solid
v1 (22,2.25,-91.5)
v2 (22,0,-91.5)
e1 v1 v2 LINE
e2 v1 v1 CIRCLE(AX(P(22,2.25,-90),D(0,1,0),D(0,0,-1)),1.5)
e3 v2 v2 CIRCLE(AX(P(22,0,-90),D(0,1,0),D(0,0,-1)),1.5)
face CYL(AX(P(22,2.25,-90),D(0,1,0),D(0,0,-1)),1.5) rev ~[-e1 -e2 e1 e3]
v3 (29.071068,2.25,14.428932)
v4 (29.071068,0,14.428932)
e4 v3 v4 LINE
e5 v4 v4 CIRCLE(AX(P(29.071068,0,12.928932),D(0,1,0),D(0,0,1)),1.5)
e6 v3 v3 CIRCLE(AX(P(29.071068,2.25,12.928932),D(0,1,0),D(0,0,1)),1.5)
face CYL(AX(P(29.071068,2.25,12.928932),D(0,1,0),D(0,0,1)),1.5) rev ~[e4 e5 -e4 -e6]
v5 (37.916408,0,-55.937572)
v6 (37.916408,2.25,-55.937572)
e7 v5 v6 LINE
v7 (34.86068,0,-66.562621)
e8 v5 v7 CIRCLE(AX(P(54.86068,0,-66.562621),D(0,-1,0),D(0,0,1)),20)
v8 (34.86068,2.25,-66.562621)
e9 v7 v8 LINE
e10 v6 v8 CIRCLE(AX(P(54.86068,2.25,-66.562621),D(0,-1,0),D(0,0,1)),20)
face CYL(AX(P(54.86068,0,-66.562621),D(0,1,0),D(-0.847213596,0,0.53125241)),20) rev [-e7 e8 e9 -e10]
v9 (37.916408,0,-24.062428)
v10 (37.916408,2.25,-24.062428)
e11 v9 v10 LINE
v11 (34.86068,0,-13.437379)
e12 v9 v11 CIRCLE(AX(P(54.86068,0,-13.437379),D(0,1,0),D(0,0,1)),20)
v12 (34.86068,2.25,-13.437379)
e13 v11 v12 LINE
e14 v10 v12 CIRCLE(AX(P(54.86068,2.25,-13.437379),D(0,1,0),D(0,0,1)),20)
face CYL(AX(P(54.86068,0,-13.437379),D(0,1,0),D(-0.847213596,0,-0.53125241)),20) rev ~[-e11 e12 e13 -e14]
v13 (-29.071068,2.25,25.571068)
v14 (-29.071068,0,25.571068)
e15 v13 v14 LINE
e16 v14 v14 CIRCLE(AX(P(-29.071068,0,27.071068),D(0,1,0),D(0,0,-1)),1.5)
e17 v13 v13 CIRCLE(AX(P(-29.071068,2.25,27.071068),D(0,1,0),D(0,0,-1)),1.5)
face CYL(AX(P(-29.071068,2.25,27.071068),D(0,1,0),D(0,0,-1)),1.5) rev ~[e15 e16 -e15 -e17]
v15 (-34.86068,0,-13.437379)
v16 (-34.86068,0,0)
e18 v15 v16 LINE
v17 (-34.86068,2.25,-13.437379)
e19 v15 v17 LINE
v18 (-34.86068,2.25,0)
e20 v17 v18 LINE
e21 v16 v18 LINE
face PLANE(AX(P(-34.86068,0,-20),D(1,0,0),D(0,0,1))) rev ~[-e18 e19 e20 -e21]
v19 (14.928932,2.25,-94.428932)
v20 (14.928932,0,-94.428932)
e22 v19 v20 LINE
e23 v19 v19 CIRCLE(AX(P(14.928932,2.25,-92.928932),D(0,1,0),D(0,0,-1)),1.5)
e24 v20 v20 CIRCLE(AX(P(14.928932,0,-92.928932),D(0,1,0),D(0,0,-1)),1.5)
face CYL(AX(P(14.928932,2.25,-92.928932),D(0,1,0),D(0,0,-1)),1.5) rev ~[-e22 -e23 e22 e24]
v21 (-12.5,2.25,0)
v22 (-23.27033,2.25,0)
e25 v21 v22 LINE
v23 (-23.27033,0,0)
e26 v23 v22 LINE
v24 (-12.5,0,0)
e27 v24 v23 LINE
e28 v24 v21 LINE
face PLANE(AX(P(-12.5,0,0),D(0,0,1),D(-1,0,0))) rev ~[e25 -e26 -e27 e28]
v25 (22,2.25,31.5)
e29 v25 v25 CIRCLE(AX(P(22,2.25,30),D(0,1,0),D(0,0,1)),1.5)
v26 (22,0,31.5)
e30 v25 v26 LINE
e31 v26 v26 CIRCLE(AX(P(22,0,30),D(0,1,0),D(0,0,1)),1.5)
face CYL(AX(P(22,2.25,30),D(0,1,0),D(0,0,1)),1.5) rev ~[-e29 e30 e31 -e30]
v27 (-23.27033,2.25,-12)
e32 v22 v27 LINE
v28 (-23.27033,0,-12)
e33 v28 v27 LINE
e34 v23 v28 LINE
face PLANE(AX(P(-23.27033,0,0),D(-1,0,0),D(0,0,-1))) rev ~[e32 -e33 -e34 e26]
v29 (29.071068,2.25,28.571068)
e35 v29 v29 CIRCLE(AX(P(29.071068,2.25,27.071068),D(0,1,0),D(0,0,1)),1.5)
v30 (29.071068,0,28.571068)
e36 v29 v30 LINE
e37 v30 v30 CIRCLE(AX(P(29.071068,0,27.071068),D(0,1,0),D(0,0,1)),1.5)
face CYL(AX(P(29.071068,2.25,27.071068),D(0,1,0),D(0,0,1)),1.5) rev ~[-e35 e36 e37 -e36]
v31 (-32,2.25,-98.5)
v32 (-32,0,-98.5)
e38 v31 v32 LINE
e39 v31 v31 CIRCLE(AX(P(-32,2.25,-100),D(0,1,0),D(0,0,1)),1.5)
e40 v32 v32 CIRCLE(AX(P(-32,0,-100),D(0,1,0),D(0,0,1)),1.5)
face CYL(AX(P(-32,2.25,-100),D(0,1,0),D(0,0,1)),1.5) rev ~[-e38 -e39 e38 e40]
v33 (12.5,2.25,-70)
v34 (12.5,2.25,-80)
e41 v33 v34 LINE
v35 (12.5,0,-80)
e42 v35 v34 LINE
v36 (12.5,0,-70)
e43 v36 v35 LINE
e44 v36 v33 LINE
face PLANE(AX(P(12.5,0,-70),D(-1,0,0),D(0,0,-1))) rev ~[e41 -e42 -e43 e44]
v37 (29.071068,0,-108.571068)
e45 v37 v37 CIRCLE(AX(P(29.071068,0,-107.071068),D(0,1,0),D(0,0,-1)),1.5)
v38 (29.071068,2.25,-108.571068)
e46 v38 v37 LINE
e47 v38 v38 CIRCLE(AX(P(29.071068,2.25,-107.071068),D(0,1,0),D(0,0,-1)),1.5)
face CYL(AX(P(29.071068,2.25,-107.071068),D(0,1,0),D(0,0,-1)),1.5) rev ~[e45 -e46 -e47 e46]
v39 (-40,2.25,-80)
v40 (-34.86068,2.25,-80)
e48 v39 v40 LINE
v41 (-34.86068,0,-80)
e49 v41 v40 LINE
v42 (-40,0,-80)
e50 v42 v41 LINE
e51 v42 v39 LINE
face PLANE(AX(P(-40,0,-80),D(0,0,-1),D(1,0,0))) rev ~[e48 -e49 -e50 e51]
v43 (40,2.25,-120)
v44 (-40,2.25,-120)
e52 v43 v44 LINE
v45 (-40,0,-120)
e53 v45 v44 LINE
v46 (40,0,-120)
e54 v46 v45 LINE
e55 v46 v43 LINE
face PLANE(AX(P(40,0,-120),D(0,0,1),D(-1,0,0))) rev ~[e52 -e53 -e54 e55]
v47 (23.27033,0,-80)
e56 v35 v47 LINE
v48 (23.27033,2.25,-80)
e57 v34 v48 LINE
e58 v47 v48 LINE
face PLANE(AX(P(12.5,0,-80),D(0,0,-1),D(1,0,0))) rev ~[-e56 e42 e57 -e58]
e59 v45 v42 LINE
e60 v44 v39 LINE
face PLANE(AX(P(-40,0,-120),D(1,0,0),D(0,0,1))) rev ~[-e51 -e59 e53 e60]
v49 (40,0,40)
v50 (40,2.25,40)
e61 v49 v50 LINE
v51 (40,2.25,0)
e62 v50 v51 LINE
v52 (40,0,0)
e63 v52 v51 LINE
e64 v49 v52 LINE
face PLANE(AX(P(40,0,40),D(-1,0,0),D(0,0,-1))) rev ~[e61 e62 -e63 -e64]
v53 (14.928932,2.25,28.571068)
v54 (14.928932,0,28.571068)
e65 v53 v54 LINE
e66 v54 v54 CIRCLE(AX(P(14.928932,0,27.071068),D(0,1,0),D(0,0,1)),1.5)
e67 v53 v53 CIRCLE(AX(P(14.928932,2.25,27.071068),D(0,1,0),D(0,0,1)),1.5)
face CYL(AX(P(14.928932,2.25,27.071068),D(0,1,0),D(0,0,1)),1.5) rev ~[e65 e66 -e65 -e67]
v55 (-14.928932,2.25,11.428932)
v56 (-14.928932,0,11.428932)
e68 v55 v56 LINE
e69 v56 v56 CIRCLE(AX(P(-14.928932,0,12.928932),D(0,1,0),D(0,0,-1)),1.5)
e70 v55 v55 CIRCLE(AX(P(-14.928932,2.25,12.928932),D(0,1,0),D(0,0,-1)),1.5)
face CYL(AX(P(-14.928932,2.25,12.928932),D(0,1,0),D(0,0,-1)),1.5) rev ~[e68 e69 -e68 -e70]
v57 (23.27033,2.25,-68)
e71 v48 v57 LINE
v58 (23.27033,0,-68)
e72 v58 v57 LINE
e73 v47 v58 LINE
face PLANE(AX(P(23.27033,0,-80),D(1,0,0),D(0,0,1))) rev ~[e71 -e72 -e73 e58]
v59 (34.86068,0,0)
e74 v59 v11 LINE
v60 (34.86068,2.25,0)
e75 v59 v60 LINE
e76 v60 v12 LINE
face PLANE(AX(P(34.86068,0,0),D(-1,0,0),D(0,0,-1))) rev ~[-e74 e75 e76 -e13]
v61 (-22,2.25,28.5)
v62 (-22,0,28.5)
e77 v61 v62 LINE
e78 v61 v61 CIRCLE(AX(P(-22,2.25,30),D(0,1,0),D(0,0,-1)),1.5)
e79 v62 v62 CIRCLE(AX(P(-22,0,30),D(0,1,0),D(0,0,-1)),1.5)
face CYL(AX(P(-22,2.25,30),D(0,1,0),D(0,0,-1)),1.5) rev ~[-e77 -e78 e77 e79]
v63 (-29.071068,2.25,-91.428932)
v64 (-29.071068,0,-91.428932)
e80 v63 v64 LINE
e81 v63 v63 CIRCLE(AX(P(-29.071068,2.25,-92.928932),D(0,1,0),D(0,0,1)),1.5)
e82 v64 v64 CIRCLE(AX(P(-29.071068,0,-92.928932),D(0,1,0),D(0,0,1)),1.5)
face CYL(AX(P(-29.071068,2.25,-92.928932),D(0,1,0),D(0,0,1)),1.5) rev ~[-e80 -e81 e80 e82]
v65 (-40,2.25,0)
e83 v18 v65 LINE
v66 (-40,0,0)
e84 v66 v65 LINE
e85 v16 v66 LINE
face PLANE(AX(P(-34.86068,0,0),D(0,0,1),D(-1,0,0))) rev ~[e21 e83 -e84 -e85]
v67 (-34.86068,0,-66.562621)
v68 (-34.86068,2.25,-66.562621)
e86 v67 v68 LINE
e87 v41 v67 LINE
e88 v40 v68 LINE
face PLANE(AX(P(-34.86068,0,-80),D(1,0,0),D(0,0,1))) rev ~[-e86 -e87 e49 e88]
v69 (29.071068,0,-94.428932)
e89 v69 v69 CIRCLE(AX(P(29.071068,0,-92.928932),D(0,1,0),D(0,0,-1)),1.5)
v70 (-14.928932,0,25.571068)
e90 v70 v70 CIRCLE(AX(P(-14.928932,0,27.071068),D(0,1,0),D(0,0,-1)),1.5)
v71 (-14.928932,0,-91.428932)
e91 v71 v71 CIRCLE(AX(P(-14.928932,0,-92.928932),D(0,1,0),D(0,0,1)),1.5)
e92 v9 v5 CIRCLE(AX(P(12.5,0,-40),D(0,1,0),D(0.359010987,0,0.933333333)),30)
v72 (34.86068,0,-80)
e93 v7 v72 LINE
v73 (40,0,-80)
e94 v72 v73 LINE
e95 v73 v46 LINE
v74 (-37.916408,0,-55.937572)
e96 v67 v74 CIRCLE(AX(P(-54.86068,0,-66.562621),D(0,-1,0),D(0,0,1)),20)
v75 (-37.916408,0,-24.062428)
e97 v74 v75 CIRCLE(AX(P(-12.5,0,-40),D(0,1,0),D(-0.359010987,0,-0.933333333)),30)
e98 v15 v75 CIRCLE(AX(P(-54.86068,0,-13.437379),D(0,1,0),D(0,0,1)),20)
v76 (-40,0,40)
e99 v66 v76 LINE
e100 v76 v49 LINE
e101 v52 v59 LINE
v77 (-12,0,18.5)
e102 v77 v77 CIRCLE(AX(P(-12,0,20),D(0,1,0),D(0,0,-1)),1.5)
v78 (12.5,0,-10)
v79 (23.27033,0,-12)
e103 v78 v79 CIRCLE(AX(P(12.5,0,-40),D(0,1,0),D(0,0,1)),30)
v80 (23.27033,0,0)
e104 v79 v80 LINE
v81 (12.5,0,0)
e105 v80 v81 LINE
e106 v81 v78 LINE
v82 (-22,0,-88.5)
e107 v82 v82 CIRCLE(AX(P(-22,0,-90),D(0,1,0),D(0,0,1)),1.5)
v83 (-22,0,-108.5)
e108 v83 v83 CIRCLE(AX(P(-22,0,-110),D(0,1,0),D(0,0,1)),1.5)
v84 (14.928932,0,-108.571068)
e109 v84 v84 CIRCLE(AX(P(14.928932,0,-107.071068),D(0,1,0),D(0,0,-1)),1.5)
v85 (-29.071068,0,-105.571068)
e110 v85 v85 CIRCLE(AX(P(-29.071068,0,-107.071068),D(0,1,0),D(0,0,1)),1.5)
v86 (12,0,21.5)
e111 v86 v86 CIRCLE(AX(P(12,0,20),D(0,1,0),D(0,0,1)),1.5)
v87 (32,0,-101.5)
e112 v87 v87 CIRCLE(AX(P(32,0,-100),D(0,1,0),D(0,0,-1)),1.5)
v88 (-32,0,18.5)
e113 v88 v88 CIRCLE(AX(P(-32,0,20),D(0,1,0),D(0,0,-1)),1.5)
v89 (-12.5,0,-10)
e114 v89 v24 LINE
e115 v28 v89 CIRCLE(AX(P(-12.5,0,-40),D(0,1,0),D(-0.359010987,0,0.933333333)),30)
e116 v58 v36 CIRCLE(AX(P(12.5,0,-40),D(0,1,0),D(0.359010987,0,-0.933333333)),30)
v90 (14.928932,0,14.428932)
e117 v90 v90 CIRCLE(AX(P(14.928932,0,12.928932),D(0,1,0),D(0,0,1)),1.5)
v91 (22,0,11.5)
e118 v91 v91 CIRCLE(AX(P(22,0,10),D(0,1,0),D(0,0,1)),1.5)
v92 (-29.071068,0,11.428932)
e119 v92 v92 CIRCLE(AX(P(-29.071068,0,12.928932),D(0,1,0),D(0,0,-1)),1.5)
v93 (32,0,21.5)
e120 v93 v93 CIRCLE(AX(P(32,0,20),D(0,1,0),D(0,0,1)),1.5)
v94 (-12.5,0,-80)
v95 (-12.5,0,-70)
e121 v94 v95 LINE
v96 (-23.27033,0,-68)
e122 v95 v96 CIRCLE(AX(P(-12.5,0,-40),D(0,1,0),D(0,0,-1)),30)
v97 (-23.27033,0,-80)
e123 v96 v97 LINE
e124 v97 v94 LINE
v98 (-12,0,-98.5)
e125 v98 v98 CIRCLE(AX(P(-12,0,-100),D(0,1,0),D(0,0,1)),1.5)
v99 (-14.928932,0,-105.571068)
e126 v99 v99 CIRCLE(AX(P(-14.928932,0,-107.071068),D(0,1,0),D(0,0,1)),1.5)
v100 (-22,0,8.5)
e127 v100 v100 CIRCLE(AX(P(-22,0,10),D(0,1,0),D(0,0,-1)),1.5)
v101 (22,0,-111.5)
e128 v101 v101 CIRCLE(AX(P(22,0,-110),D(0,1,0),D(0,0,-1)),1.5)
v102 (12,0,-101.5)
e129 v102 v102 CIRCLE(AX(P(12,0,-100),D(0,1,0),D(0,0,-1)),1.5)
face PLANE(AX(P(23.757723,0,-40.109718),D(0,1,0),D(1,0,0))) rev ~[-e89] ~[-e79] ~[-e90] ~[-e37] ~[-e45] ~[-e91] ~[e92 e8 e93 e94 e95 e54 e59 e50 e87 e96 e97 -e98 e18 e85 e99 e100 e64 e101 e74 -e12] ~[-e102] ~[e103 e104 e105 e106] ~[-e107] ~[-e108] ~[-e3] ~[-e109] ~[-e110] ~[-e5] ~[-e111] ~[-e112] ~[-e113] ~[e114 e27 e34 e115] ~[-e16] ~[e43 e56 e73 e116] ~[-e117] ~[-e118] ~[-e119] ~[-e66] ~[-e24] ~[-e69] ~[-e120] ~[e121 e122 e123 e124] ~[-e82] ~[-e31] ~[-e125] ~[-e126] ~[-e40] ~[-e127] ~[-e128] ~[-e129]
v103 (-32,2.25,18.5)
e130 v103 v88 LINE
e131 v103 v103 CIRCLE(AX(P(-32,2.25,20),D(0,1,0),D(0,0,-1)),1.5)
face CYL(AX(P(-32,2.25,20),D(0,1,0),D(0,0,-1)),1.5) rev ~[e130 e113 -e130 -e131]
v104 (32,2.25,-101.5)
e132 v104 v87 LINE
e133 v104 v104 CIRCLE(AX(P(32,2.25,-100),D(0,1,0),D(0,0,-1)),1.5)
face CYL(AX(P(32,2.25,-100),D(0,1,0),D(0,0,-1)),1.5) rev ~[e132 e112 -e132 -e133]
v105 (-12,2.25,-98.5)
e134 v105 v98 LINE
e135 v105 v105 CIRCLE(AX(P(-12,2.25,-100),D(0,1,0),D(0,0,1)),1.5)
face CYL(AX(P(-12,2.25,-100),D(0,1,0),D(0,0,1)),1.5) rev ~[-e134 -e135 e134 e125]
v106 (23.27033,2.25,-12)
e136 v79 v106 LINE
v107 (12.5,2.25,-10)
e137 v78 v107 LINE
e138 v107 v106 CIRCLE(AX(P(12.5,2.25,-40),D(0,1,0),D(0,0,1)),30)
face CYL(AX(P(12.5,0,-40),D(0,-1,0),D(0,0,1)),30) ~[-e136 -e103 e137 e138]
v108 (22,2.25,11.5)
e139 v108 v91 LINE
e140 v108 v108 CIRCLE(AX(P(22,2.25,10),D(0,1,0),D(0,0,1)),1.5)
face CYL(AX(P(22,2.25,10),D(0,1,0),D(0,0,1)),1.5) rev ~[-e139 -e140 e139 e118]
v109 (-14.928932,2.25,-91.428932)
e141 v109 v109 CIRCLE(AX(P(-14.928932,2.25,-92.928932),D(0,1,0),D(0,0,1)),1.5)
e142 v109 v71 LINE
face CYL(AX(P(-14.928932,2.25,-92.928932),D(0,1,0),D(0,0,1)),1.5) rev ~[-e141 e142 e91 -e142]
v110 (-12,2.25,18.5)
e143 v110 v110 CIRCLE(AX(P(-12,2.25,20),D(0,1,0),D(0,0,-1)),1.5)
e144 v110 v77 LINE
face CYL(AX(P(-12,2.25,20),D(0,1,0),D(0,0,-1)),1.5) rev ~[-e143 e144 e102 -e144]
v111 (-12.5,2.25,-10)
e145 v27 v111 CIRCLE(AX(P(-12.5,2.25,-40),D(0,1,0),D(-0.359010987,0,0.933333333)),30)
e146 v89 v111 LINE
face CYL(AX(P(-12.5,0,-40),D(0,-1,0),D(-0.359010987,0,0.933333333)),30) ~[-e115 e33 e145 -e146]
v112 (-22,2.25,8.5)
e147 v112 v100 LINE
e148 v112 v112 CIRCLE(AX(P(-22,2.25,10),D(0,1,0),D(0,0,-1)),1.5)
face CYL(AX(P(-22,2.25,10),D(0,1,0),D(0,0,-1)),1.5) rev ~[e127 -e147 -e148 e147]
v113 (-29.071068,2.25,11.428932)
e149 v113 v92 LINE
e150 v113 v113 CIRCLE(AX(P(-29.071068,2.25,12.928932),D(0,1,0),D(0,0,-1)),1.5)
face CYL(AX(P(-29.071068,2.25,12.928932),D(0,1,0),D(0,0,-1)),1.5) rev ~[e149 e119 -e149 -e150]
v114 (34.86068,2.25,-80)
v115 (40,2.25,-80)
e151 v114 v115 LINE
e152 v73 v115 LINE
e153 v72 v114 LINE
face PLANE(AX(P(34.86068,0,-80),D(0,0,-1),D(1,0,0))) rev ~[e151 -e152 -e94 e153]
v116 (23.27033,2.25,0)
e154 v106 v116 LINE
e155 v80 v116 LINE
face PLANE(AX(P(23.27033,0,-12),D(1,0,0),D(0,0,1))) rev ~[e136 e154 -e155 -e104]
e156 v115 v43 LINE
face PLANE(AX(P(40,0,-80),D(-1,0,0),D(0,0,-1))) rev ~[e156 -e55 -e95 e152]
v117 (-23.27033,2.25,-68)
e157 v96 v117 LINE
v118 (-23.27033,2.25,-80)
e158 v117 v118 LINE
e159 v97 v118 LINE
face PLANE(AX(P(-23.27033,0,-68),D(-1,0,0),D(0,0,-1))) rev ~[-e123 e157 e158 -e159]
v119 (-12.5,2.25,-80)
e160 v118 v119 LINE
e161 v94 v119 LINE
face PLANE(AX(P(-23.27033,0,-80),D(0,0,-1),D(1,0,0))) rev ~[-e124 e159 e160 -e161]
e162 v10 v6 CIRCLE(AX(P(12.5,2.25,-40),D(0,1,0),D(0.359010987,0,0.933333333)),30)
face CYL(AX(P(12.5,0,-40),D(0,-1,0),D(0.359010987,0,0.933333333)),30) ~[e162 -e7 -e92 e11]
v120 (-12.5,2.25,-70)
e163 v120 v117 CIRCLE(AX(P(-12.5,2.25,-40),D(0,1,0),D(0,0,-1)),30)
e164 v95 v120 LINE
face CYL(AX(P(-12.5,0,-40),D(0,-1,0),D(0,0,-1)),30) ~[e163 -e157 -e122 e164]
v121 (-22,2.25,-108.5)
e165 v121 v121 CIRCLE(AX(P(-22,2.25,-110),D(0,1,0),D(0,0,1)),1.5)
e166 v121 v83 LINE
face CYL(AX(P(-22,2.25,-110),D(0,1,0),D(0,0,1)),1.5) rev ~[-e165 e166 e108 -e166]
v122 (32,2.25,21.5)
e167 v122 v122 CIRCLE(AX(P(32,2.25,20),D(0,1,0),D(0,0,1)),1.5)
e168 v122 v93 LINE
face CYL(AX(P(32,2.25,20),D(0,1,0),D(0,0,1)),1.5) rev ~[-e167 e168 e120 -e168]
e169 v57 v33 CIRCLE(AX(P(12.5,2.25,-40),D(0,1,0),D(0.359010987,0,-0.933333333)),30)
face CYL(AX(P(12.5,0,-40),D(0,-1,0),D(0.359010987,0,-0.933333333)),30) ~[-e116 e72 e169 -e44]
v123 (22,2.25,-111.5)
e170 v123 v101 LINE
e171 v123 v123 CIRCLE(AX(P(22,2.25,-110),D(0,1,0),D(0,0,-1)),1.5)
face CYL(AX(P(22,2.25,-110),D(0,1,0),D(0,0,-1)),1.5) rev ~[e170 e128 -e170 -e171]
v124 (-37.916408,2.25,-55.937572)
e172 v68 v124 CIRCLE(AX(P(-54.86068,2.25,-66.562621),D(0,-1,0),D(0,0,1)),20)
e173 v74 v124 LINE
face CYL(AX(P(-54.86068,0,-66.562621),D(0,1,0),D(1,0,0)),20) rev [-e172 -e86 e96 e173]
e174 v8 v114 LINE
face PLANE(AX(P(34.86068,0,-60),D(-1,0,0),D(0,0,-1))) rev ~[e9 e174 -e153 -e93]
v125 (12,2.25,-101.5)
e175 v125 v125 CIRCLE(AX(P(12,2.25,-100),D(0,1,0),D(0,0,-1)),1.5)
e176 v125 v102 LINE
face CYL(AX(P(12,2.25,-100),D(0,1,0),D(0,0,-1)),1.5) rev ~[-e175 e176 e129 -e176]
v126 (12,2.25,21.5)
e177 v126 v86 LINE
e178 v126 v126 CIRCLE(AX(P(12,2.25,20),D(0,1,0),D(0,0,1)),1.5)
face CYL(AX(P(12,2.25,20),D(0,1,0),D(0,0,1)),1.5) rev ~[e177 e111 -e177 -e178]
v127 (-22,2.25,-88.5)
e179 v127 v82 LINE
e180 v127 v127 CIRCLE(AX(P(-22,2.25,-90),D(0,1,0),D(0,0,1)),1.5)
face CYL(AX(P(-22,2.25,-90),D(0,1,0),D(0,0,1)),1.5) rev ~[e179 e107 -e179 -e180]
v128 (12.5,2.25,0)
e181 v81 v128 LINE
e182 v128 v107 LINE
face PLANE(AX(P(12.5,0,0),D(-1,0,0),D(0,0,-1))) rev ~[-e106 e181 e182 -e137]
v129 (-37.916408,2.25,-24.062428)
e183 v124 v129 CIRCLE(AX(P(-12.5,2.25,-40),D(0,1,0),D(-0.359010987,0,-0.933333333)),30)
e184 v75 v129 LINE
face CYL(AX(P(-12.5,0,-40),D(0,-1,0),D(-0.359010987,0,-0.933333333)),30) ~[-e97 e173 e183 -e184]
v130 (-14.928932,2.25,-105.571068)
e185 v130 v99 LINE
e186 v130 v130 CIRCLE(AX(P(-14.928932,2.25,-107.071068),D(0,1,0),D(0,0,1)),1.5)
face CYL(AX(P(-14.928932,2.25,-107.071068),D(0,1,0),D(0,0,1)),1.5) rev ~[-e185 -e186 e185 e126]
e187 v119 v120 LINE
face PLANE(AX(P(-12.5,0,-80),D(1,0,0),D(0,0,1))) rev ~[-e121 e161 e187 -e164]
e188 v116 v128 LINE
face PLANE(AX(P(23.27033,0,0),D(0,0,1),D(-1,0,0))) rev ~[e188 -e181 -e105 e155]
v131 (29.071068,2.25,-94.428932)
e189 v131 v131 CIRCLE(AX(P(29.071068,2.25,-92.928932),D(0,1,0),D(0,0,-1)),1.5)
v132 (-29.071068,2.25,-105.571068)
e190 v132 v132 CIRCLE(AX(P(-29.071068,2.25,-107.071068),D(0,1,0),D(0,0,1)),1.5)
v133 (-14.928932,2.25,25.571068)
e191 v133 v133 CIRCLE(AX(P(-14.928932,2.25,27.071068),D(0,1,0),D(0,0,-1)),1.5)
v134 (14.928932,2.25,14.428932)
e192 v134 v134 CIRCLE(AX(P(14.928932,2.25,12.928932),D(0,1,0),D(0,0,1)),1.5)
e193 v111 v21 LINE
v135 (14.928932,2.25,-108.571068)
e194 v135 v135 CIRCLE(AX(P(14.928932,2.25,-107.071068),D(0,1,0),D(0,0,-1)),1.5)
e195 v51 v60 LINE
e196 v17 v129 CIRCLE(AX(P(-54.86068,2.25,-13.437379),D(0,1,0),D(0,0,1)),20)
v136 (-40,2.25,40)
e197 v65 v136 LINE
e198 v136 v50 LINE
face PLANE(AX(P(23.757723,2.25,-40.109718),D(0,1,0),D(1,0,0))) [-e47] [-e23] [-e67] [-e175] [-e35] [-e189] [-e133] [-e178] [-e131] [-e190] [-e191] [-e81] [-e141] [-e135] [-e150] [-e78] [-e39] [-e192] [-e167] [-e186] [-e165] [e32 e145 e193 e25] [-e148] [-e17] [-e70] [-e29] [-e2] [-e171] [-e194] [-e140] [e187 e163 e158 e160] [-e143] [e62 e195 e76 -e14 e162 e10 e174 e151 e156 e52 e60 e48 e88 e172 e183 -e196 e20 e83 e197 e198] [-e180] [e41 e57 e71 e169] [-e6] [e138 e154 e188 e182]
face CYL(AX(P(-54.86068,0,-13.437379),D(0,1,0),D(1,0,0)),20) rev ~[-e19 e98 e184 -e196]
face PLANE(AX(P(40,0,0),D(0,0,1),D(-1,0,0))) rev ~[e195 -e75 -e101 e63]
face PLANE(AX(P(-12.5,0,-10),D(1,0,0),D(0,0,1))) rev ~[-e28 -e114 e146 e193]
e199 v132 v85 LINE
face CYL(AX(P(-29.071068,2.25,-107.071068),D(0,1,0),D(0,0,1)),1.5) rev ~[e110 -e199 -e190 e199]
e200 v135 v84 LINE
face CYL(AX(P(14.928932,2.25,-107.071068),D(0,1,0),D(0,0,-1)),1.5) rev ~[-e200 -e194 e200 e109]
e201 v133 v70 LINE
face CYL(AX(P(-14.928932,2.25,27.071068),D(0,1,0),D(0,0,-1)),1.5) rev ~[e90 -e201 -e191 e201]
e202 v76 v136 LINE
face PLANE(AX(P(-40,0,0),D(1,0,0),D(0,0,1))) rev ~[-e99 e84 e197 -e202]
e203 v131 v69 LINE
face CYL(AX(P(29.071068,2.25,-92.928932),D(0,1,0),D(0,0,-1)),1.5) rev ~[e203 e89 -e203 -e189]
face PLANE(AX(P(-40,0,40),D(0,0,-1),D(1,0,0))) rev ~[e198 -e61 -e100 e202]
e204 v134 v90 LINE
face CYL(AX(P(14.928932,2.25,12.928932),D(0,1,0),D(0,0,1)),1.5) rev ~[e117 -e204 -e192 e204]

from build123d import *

# Parameters (mm, degrees)
SALIENTE_EXTRUIR1_DEPTH = 2.25
CROQUIS2_R              = 1.5
CORTAR_EXTRUIR1_DEPTH   = 128.323652555
REDONDEO1_R             = 20


with BuildPart() as part:
    # Croquis1 → Saliente-Extruir1 (new body)
    with BuildSketch(Plane(origin=(0, 0, 0), x_dir=(1, 0, 0), z_dir=(0, 1, 0))):
        with BuildLine():
            ThreePointArc((23.270329614, 12), (29.541594579, 15.310243942), (34.860679775, 20))
            ThreePointArc((34.860679775, 20), (42.5, 40), (34.860679775, 60))
            ThreePointArc((34.860679775, 60), (29.541594579, 64.689756058), (23.270329614, 68))
            ThreePointArc((23.270329614, 68), (17.977225575, 69.495762408), (12.5, 70))
            Line((12.5, 70), (12.5, 10))
            ThreePointArc((12.5, 10), (17.977225575, 10.504237592), (23.270329614, 12))
        make_face()
        Polygon((-40, 0), (-40, -40), (40, -40), (40, 0), (34.860679775, 0), (23.270329614, 0), (12.5, 0), (12.5, 10), (12.5, 70), (12.5, 80), (23.270329614, 80), (34.860679775, 80), (40, 80), (40, 120), (-40, 120), (-40, 80), (-34.860679775, 80), (-23.270329614, 80), (-12.5, 80), (-12.5, 70), (-12.5, 40), (-12.5, 10), (-12.5, 0), (-23.270329614, 0), (-34.860679775, 0), align=None)
        with BuildLine():
            ThreePointArc((-34.860679775, 60), (-42.5, 40), (-34.860679775, 20))
            ThreePointArc((-34.860679775, 20), (-29.541594579, 15.310243942), (-23.270329614, 12))
            ThreePointArc((-23.270329614, 12), (-17.977225575, 10.504237592), (-12.5, 10))
            Line((-12.5, 10), (-12.5, 40))
            Line((-12.5, 40), (-12.5, 70))
            ThreePointArc((-12.5, 70), (-17.977225575, 69.495762408), (-23.270329614, 68))
            ThreePointArc((-23.270329614, 68), (-29.541594579, 64.689756058), (-34.860679775, 60))
        make_face()
        with BuildLine():
            Line((23.270329614, 0), (34.860679775, 0))
            Line((34.860679775, 0), (34.860679775, 20))
            ThreePointArc((34.860679775, 20), (29.541594579, 15.310243942), (23.270329614, 12))
            Line((23.270329614, 12), (23.270329614, 0))
        make_face()
        with BuildLine():
            ThreePointArc((23.270329614, 68), (29.541594579, 64.689756058), (34.860679775, 60))
            Line((34.860679775, 60), (34.860679775, 80))
            Line((34.860679775, 80), (23.270329614, 80))
            Line((23.270329614, 80), (23.270329614, 68))
        make_face()
        with BuildLine():
            Line((-34.860679775, 80), (-34.860679775, 60))
            ThreePointArc((-34.860679775, 60), (-29.541594579, 64.689756058), (-23.270329614, 68))
            Line((-23.270329614, 68), (-23.270329614, 80))
            Line((-23.270329614, 80), (-34.860679775, 80))
        make_face()
        with BuildLine():
            Line((-34.860679775, 20), (-34.860679775, 0))
            Line((-34.860679775, 0), (-23.270329614, 0))
            Line((-23.270329614, 0), (-23.270329614, 12))
            ThreePointArc((-23.270329614, 12), (-29.541594579, 15.310243942), (-34.860679775, 20))
        make_face()
    extrude(amount=SALIENTE_EXTRUIR1_DEPTH)

    # Croquis2 → Cortar-Extruir1 (cut, through all)
    with BuildSketch(Plane(origin=(0, 2.25, 0), x_dir=(1, 0, 0), z_dir=(0, 1, 0))):
        with Locations(Location((32, -20, 0), (0, 0, 270))):
            Circle(CROQUIS2_R)
        with Locations(Location((29.071067812, -27.071067812, 0), (0, 0, 270))):
            Circle(CROQUIS2_R)
        with Locations(Location((22, -30, 0), (0, 0, 270))):
            Circle(CROQUIS2_R)
        with Locations(Location((14.928932188, -27.071067812, 0), (0, 0, 270))):
            Circle(CROQUIS2_R)
        with Locations(Location((12, -20, 0), (0, 0, 270))):
            Circle(CROQUIS2_R)
        with Locations(Location((14.928932188, -12.928932188, 0), (0, 0, 270))):
            Circle(CROQUIS2_R)
        with Locations(Location((22, -10, 0), (0, 0, 270))):
            Circle(CROQUIS2_R)
        with Locations(Location((29.071067812, -12.928932188, 0), (0, 0, 270))):
            Circle(CROQUIS2_R)
        with Locations(Location((-29.071067812, -12.928932188, 0), (0, 0, 90))):
            Circle(CROQUIS2_R)
        with Locations(Location((-22, -10, 0), (0, 0, 90))):
            Circle(CROQUIS2_R)
        with Locations(Location((-14.928932188, -12.928932188, 0), (0, 0, 90))):
            Circle(CROQUIS2_R)
        with Locations(Location((-12, -20, 0), (0, 0, 90))):
            Circle(CROQUIS2_R)
        with Locations(Location((-14.928932188, -27.071067812, 0), (0, 0, 90))):
            Circle(CROQUIS2_R)
        with Locations(Location((-22, -30, 0), (0, 0, 90))):
            Circle(CROQUIS2_R)
        with Locations(Location((-29.071067812, -27.071067812, 0), (0, 0, 90))):
            Circle(CROQUIS2_R)
        with Locations(Location((-32, -20, 0), (0, 0, 90))):
            Circle(CROQUIS2_R)
        with Locations(Location((-32, 100, 0), (0, 0, 270))):
            Circle(CROQUIS2_R)
        with Locations(Location((-29.071067812, 107.071067812, 0), (0, 0, 270))):
            Circle(CROQUIS2_R)
        with Locations(Location((-22, 110, 0), (0, 0, 270))):
            Circle(CROQUIS2_R)
        with Locations(Location((-14.928932188, 107.071067812, 0), (0, 0, 270))):
            Circle(CROQUIS2_R)
        with Locations(Location((-12, 100, 0), (0, 0, 270))):
            Circle(CROQUIS2_R)
        with Locations(Location((-14.928932188, 92.928932188, 0), (0, 0, 270))):
            Circle(CROQUIS2_R)
        with Locations(Location((-22, 90, 0), (0, 0, 270))):
            Circle(CROQUIS2_R)
        with Locations(Location((-29.071067812, 92.928932188, 0), (0, 0, 270))):
            Circle(CROQUIS2_R)
        with Locations(Location((29.071067812, 92.928932188, 0), (0, 0, 90))):
            Circle(CROQUIS2_R)
        with Locations(Location((22, 90, 0), (0, 0, 90))):
            Circle(CROQUIS2_R)
        with Locations(Location((14.928932188, 92.928932188, 0), (0, 0, 90))):
            Circle(CROQUIS2_R)
        with Locations(Location((12, 100, 0), (0, 0, 90))):
            Circle(CROQUIS2_R)
        with Locations(Location((14.928932188, 107.071067812, 0), (0, 0, 90))):
            Circle(CROQUIS2_R)
        with Locations(Location((22, 110, 0), (0, 0, 90))):
            Circle(CROQUIS2_R)
        with Locations(Location((29.071067812, 107.071067812, 0), (0, 0, 90))):
            Circle(CROQUIS2_R)
        with Locations(Location((32, 100, 0), (0, 0, 90))):
            Circle(CROQUIS2_R)
    extrude(amount=-CORTAR_EXTRUIR1_DEPTH, mode=Mode.SUBTRACT)

    # Redondeo1
    redondeo1_edges = [part.edges().sort_by_distance(p)[0] for p in [
        (34.860679775, 1.125, -60),
        (34.860679775, 1.125, -20),
        (-34.860679775, 1.125, -20),
        (-34.860679775, 1.125, -60),
    ]]
    fillet(redondeo1_edges, radius=REDONDEO1_R)


solid = part.part
